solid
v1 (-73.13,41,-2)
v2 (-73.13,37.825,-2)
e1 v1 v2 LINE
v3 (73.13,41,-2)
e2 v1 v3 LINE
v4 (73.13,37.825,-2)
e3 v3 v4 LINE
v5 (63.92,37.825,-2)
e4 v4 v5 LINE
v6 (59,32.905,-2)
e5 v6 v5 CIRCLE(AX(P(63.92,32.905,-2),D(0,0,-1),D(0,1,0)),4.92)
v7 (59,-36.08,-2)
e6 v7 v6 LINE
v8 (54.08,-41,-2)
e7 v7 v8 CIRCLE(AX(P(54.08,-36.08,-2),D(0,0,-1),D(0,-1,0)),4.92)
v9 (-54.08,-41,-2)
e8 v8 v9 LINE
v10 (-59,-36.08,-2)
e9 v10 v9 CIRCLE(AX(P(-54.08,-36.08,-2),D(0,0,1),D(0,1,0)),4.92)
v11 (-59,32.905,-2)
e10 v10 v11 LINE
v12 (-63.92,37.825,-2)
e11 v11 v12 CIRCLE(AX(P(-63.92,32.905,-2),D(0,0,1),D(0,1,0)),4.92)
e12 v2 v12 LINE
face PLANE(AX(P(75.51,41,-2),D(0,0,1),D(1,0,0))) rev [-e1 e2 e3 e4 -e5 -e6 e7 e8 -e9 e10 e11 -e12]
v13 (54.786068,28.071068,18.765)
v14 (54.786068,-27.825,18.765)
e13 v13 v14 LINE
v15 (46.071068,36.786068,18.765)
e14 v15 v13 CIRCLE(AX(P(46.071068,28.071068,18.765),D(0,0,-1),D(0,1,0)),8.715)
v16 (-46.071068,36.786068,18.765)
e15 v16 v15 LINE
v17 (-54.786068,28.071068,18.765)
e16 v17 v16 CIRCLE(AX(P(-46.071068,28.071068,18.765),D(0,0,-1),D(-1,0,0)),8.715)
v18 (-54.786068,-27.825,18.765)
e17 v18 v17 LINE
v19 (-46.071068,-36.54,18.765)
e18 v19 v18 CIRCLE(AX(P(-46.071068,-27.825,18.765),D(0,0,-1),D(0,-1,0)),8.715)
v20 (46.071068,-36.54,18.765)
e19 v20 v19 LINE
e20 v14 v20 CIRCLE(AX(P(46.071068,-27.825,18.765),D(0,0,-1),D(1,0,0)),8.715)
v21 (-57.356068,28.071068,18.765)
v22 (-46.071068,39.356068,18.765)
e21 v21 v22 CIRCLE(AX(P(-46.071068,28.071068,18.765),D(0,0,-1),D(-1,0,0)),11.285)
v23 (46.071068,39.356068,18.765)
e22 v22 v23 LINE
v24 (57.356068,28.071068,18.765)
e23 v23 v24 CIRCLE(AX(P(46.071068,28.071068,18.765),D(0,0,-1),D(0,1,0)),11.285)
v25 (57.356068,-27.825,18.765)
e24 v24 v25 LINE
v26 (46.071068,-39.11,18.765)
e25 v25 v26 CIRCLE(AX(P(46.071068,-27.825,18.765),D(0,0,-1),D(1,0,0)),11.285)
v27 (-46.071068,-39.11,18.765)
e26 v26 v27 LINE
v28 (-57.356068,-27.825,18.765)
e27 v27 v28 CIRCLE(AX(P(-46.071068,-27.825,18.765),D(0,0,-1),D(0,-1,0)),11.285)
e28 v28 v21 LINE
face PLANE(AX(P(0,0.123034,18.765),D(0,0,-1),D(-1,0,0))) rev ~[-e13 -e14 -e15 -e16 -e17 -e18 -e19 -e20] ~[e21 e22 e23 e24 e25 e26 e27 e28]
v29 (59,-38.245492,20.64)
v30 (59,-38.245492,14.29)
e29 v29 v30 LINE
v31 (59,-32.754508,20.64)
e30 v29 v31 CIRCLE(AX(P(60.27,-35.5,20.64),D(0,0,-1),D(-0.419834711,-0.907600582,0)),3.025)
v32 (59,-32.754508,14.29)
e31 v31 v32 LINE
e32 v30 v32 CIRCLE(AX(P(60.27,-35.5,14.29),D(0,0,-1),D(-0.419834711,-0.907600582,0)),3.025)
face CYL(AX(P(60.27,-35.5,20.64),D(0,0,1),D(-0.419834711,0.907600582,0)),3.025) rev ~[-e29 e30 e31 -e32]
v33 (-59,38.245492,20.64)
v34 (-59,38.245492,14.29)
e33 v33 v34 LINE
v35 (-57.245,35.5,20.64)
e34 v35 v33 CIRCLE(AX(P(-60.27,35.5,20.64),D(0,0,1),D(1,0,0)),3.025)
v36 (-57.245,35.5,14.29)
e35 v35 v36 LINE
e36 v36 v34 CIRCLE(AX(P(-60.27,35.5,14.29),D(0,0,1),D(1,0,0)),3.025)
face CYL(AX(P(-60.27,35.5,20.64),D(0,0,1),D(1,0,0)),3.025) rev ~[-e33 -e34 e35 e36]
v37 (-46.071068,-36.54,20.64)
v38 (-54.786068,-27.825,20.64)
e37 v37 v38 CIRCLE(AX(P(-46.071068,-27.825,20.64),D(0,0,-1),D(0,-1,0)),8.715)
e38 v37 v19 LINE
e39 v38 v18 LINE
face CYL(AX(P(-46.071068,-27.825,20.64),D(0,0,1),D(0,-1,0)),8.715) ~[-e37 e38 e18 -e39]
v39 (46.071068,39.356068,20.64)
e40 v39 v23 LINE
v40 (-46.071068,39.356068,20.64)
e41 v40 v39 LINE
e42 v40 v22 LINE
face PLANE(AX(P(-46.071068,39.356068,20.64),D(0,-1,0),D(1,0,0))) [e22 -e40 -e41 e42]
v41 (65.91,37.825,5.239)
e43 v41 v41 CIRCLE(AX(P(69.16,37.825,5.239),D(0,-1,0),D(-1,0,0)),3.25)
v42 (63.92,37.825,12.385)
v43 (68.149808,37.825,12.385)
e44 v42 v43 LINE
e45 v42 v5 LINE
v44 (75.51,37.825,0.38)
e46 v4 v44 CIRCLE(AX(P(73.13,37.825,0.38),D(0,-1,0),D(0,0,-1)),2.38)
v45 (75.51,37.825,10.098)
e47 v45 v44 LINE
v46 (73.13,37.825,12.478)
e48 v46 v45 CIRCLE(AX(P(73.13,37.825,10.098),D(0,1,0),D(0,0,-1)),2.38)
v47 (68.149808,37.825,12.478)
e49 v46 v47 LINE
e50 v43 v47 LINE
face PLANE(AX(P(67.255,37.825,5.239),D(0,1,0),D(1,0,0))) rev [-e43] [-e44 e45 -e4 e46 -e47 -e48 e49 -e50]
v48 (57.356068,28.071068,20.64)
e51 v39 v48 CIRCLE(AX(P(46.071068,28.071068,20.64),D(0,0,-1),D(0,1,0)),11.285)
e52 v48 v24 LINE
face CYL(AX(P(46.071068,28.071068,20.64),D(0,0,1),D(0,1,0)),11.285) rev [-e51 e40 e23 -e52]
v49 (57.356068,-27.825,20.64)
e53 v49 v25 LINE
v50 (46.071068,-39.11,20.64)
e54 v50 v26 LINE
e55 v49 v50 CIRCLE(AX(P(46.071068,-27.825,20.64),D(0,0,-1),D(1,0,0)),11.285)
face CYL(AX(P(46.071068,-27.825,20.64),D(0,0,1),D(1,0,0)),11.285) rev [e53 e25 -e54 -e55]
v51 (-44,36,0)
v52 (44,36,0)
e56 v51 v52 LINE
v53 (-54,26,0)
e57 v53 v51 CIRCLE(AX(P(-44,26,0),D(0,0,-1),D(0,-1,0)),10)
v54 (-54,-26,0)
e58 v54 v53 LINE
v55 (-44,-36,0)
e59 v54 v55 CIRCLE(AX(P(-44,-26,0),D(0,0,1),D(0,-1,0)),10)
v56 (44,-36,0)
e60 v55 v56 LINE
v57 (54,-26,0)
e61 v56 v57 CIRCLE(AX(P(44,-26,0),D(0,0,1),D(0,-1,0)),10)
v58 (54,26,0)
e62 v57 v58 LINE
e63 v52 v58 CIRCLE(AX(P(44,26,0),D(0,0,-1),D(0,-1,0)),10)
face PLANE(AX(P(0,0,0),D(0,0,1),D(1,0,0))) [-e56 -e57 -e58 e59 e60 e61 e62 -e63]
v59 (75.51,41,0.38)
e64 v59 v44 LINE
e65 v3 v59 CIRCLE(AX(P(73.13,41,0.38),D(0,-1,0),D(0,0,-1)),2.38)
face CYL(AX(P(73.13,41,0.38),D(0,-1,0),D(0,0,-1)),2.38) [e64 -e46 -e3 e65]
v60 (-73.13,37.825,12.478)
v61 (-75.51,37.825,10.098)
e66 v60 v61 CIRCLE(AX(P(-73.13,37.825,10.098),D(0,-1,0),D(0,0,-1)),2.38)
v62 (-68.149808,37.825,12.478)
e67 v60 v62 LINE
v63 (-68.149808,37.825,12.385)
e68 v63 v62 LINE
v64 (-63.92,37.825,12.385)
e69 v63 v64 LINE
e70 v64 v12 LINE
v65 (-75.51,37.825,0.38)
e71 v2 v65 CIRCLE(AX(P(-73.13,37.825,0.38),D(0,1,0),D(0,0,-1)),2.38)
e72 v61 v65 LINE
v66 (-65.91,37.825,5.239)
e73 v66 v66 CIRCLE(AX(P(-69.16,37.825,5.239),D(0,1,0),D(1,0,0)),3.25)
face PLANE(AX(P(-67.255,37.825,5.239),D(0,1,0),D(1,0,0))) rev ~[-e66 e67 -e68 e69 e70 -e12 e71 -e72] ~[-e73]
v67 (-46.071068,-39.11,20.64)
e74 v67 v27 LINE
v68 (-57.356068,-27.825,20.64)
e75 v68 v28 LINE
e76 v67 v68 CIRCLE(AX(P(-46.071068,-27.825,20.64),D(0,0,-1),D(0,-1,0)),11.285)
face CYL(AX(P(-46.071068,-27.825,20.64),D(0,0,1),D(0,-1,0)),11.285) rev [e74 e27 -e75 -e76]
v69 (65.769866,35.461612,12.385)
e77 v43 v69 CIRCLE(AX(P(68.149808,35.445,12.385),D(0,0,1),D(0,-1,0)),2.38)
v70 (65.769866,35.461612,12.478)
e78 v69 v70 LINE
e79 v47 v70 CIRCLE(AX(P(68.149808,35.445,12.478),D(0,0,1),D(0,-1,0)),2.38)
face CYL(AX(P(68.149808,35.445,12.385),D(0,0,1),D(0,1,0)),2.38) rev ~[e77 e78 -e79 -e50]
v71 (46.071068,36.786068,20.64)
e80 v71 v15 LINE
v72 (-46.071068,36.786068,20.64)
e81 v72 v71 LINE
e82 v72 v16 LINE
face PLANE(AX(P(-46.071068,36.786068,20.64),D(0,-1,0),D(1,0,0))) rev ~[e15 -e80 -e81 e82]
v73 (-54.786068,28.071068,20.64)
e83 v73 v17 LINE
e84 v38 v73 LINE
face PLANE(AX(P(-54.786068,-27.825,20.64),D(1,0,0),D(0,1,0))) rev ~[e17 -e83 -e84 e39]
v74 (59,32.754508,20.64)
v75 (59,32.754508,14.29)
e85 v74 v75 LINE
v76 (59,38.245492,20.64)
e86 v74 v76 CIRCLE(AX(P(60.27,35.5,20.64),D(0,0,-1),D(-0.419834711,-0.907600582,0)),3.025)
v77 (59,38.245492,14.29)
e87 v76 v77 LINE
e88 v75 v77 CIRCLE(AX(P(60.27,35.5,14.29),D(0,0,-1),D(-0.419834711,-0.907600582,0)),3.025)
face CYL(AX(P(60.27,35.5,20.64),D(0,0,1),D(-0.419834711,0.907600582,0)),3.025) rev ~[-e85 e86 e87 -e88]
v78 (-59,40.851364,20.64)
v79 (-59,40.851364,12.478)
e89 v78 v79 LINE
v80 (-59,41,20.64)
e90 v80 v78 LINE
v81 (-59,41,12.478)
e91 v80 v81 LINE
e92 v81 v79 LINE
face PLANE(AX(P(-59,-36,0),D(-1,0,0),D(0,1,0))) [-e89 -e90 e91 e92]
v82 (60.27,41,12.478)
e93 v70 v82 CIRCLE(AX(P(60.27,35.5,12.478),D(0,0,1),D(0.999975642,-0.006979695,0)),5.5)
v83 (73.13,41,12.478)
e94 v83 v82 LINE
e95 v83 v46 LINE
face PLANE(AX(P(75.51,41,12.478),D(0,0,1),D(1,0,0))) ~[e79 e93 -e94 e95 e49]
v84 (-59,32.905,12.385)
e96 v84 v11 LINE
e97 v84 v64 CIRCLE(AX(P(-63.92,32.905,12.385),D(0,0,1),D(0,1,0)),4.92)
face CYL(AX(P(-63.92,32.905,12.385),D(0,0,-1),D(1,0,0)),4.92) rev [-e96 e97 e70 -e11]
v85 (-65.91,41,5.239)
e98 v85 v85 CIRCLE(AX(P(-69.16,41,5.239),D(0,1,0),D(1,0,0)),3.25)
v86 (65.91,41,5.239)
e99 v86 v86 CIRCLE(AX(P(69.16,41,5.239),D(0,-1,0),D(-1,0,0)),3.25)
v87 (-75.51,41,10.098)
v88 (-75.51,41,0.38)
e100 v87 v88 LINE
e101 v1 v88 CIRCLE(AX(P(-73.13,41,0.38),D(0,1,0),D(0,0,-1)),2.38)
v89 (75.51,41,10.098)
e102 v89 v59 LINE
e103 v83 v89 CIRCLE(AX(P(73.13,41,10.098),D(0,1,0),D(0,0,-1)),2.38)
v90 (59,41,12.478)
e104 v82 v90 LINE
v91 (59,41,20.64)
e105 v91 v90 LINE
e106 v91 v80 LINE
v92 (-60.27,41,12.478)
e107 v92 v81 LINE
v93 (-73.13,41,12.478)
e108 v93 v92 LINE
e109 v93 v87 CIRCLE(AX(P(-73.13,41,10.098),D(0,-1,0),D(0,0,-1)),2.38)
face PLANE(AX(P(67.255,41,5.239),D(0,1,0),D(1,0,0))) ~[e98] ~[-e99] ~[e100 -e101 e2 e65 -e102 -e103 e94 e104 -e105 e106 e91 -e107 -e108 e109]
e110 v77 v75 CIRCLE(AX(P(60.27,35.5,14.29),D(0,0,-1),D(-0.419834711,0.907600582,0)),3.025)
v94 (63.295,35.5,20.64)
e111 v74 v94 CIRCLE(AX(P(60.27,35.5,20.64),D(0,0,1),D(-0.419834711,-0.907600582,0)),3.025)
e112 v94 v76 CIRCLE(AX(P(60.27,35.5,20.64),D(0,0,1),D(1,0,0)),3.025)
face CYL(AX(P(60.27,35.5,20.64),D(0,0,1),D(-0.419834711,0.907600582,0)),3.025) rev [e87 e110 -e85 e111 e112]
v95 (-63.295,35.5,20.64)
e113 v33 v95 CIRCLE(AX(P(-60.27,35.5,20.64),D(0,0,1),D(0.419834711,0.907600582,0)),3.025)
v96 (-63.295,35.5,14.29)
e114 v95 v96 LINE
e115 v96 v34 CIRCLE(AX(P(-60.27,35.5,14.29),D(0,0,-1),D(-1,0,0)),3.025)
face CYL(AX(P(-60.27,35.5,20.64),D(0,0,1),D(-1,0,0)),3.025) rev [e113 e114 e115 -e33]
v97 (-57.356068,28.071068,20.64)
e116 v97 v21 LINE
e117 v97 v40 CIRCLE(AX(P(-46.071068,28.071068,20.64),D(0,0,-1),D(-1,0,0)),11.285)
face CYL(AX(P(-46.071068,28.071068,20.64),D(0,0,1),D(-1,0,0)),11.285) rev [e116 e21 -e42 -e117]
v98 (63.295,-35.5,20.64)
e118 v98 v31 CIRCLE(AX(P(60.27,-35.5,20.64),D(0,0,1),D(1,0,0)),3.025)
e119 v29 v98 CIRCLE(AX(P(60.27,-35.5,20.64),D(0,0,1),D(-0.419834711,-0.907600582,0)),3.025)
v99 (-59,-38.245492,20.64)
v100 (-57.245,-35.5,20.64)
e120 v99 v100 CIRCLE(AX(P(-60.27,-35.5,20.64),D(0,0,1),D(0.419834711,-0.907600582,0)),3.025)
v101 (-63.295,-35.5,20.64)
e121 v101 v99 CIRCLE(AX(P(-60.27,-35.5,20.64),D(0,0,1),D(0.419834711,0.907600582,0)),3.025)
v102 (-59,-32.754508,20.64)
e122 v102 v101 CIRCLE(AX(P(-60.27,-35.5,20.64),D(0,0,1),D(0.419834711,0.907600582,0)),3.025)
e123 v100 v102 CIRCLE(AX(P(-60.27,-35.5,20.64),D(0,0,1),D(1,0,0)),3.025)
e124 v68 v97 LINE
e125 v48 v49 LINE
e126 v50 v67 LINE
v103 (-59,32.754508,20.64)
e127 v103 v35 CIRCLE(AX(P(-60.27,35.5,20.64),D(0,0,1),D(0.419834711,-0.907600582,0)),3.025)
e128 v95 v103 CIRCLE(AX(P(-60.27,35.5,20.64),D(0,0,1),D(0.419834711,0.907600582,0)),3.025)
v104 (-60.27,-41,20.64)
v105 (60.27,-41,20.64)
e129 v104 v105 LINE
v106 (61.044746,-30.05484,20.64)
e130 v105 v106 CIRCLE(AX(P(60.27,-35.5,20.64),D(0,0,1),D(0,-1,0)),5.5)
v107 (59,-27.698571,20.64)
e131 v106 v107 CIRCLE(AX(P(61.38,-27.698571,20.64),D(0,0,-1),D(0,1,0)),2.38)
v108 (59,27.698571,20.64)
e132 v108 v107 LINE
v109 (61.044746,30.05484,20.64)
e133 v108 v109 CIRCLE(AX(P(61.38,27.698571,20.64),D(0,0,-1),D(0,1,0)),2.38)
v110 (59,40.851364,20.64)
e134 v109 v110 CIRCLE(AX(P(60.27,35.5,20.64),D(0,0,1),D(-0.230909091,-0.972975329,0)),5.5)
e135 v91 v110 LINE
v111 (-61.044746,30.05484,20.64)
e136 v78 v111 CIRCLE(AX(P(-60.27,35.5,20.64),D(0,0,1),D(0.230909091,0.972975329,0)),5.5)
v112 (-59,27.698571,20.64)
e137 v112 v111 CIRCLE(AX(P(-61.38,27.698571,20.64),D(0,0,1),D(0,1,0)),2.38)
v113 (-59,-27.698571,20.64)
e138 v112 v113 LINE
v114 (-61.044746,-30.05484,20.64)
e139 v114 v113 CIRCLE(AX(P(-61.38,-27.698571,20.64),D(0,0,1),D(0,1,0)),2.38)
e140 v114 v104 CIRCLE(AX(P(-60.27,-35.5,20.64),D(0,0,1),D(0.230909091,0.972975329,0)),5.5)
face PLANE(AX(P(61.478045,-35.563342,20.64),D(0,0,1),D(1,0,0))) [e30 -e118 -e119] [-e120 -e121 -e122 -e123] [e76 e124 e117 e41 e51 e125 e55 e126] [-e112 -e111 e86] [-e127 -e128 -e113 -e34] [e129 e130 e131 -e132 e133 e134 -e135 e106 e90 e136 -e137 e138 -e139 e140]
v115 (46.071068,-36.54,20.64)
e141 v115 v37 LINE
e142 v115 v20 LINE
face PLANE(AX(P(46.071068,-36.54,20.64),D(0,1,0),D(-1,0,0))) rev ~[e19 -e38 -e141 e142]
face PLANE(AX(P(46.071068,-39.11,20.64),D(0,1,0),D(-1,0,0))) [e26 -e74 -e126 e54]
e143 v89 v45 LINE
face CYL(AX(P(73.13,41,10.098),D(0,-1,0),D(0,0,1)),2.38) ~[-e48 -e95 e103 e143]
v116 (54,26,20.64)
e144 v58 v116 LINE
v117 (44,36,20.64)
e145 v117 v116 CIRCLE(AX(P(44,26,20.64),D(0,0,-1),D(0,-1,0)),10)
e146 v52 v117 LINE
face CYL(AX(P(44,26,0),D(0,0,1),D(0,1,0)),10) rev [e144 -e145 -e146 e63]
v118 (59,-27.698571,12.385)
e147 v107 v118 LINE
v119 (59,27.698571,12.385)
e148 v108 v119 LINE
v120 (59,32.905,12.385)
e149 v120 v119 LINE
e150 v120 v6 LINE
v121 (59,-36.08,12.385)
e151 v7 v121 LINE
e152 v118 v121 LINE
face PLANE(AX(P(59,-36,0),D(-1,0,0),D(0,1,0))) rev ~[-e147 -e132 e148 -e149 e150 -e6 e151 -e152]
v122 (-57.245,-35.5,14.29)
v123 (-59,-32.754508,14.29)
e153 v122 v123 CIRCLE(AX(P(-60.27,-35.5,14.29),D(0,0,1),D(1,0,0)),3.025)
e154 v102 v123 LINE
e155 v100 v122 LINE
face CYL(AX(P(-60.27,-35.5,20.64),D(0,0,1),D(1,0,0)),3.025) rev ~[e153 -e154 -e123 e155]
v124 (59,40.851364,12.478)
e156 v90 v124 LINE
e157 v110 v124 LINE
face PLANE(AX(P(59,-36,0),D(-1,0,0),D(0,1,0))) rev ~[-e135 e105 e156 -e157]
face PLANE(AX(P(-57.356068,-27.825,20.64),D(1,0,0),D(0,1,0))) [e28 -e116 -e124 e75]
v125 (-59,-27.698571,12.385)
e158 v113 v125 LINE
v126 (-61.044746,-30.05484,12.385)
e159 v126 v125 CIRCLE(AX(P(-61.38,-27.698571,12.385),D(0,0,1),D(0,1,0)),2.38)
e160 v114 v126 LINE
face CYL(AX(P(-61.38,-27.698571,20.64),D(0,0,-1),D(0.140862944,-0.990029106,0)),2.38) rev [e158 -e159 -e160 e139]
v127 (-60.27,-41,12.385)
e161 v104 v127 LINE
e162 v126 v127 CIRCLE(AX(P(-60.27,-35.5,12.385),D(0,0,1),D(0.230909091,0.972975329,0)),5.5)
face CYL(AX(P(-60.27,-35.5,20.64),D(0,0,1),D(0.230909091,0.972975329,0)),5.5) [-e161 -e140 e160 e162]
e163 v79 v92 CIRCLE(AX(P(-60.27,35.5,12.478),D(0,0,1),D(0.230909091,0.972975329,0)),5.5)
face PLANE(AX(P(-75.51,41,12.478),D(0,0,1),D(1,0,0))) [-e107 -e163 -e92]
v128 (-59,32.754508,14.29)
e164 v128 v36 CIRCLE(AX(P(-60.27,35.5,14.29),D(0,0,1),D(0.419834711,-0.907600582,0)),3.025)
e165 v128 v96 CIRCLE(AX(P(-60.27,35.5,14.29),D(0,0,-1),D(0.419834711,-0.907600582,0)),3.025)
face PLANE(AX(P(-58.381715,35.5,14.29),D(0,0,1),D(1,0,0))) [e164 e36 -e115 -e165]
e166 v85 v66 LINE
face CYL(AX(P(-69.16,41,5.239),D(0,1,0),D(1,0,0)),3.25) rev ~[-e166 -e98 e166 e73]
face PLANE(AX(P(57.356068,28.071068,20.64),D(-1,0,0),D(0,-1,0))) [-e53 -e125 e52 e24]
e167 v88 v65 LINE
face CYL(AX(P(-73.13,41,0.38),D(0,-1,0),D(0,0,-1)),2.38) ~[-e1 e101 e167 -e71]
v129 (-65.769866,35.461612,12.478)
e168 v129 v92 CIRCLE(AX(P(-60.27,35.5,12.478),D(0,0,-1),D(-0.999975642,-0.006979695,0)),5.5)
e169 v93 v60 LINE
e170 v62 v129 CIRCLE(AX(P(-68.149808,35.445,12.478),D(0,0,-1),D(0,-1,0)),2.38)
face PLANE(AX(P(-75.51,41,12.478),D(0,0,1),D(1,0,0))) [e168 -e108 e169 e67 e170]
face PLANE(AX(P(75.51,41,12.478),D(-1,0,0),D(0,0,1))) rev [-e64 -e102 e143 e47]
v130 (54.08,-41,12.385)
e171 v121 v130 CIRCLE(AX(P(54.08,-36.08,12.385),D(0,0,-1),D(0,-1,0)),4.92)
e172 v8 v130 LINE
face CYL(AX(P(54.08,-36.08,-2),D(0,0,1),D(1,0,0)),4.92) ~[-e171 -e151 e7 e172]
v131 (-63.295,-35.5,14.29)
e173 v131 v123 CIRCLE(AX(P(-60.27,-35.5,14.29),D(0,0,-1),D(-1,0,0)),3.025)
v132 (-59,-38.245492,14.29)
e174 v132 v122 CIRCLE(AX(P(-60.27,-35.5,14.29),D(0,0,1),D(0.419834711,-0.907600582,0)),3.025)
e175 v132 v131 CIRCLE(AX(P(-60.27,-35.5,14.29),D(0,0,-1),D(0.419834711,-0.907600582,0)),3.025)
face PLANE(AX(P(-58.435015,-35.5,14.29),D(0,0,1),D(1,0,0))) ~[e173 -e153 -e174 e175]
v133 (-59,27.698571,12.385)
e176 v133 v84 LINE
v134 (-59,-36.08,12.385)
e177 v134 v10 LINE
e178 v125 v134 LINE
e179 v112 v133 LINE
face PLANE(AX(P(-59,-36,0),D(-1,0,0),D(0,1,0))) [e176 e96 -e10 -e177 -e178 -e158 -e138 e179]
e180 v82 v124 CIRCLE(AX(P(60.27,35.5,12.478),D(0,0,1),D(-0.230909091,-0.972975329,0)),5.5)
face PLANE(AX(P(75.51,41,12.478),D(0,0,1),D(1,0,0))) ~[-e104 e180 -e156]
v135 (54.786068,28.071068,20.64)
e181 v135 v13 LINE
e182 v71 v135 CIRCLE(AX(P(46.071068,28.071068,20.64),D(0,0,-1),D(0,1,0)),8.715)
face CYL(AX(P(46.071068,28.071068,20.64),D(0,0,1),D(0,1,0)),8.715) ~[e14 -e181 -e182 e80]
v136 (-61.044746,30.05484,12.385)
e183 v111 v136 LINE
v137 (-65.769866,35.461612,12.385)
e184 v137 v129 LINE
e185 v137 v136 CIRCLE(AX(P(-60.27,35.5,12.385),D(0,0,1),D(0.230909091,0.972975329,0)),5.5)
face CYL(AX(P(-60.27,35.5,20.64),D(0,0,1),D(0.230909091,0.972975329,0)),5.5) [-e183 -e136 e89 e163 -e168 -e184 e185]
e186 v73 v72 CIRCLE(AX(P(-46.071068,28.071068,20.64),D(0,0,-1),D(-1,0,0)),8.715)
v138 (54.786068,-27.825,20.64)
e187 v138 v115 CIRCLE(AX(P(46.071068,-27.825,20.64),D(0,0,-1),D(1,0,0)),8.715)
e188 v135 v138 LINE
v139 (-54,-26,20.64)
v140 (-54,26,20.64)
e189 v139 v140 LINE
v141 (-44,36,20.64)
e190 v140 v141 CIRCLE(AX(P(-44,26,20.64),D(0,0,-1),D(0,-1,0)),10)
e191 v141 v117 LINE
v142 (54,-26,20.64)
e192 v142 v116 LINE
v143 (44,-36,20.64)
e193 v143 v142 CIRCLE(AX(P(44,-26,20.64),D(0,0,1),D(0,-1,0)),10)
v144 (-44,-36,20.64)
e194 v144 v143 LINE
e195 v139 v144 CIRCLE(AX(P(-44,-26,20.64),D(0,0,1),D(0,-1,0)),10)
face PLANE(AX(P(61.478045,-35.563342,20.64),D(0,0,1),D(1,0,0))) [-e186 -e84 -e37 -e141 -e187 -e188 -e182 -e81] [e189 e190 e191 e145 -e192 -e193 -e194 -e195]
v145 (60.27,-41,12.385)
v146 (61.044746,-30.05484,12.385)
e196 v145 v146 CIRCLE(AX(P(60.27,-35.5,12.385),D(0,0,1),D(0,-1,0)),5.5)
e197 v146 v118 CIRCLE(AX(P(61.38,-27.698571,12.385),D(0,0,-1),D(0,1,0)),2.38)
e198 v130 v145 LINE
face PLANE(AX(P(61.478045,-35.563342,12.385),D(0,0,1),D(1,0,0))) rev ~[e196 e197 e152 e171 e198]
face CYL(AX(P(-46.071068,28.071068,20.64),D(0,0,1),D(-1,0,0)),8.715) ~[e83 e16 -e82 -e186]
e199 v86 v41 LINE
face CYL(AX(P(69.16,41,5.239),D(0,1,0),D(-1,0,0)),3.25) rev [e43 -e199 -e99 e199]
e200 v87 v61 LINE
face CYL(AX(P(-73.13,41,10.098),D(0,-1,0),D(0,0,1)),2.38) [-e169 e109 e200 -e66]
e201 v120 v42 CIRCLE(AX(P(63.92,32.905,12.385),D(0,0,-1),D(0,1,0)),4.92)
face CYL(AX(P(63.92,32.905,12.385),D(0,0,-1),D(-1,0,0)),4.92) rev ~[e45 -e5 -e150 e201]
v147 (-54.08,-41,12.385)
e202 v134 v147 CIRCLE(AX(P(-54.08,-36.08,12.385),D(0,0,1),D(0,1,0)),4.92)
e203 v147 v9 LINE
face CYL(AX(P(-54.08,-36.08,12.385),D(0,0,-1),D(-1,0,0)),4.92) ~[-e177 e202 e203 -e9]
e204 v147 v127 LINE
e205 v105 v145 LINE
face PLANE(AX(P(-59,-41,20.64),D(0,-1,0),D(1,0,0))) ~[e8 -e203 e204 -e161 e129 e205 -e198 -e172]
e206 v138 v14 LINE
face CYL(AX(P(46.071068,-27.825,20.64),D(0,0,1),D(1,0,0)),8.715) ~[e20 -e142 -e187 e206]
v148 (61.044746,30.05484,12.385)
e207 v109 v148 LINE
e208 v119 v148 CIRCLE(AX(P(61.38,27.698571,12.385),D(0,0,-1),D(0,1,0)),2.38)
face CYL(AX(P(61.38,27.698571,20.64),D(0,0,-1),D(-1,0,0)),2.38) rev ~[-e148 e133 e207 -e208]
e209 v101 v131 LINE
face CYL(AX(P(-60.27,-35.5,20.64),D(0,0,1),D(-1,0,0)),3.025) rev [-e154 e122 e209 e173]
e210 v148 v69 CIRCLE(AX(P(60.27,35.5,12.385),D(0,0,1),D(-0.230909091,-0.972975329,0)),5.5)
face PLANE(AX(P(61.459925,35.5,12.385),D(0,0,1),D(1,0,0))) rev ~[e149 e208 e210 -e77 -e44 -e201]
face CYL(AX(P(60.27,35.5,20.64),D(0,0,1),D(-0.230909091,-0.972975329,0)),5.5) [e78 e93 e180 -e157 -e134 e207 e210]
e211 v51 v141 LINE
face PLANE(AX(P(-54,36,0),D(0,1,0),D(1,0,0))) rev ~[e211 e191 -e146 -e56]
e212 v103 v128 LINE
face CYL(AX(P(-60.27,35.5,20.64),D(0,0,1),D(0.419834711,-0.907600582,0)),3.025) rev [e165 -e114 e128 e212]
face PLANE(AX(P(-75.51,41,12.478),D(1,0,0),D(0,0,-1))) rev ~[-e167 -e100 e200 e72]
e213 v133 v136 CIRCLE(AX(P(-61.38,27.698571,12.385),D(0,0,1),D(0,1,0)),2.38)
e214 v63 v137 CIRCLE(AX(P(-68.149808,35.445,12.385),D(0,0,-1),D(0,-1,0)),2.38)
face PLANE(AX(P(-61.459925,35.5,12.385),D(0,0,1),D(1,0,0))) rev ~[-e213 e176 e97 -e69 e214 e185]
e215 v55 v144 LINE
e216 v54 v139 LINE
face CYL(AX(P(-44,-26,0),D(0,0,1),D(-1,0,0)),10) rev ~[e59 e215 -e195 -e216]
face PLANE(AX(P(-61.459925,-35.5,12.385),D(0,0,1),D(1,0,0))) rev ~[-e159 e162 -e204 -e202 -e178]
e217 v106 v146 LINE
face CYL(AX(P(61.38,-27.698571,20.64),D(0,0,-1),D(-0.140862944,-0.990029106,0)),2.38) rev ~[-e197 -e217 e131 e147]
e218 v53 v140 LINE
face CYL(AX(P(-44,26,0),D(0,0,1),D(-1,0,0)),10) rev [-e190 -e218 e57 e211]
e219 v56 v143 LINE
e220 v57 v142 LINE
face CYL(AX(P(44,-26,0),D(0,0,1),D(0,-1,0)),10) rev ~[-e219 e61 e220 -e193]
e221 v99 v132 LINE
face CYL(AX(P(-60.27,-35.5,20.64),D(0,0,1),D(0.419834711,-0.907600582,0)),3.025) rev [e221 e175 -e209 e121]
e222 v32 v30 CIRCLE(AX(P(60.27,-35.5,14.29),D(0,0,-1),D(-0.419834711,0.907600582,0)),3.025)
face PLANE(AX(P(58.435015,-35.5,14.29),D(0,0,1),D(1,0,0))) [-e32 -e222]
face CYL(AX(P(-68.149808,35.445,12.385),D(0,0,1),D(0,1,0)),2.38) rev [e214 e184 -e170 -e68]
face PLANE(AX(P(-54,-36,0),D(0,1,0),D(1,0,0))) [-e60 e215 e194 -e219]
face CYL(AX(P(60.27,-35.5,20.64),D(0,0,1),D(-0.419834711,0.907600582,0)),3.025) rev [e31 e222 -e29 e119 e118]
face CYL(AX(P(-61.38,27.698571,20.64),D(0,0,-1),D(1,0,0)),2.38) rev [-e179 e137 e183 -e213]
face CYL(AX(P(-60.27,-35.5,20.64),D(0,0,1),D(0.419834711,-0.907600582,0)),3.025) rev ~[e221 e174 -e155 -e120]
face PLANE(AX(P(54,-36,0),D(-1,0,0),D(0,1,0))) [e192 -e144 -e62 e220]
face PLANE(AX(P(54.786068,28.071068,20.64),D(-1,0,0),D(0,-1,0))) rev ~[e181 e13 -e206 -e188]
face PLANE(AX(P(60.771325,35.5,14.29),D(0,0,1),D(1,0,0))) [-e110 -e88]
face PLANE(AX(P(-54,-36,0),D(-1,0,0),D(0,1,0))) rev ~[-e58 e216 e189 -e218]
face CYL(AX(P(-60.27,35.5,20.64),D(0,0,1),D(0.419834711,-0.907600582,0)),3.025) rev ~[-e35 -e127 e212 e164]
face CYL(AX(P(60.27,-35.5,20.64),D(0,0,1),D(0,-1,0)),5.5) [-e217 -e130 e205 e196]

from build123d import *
from build123d.topology import SkipClean

# Parameters (mm, degrees)
SKETCH2_W           = 108
SKETCH2_H           = 72
BOSS_EXTRUDE1_DEPTH = 20.64
SHELL1_T            = 5
SKETCH3_W           = 118
SKETCH3_H           = 82
CUT_EXTRUDE1_DEPTH  = 3
FILLET1_R           = 10
SKETCH13_W          = 16.51
SKETCH13_H          = 14.478
SKETCH13_R          = 3.249999977
BOSS_EXTRUDE4_DEPTH = 3.175
BOSS_EXTRUDE2_DEPTH = 8.255
CUT_EXTRUDE4_DEPTH  = 6.35
CUT_EXTRUDE2_DEPTH  = 1.875
FILLET3_R           = 2.38
FILLET4_R           = 4.92
FILLET5_R           = 2.38


with BuildPart() as part:
    # Sketch2 → Boss-Extrude1 (new body)
    with BuildSketch(Plane.XY):
        Rectangle(SKETCH2_W, SKETCH2_H)
    extrude(amount=BOSS_EXTRUDE1_DEPTH)

    # Shell1
    shell1_openings = [part.faces().sort_by_distance(p)[0] for p in [
        (0, 0, 20.64),
    ]]
    offset(amount=SHELL1_T, openings=shell1_openings, kind=Kind.INTERSECTION)

    # Sketch3 → Cut-Extrude1 (cut)
    with BuildSketch(Plane(origin=(0, 0, -5), x_dir=(-1, 0, 0), z_dir=(0, 0, -1))):
        Rectangle(SKETCH3_W, SKETCH3_H)
    extrude(amount=-CUT_EXTRUDE1_DEPTH, mode=Mode.SUBTRACT)

    # Fillet1
    fillet1_edges = [part.edges().sort_by_distance(p)[0] for p in [
        (54, -36, 10.32),
        (54, 36, 10.32),
        (-54, 36, 10.32),
        (-54, -36, 10.32),
    ]]
    fillet(fillet1_edges, radius=FILLET1_R)

    # Sketch13 → Boss-Extrude4 (add)
    with BuildSketch(Plane(origin=(0, 41, 0), x_dir=(1, 0, 0), z_dir=(0, 1, 0))):
        with Locations((-67.255, -5.239)):
            Rectangle(SKETCH13_W, SKETCH13_H)
        with Locations((-69.16, -5.239)):
            Circle(SKETCH13_R, mode=Mode.SUBTRACT)
    boss_extrude4 = extrude(amount=-BOSS_EXTRUDE4_DEPTH)

    # Mirror4: Boss-Extrude4 across plane
    add(boss_extrude4.mirror(Plane(origin=(0, 0, 0), x_dir=(0, 0, 1), z_dir=(1, 0, 0))))

    # Sketch6 → Boss-Extrude2 (add)
    with BuildSketch(Plane.XY.offset(20.64)):
        with BuildLine():
            Line((59, -41), (60.27, -41))
            ThreePointArc((60.27, -41), (65.732714697, -34.86066586), (59, -30.148635688))
            Line((59, -30.148635688), (59, -41))
        make_face()
        with BuildLine():
            ThreePointArc((59, 30.148635688), (65.77, 35.5), (59, 40.851364312))
            Line((59, 40.851364312), (59, 30.148635688))
        make_face()
        with BuildLine():
            ThreePointArc((-59, -30.148635688), (-65.77, -35.5), (-59, -40.851364312))
            Line((-59, -40.851364312), (-59, -30.148635688))
        make_face()
        with BuildLine():
            ThreePointArc((-59, 40.851364312), (-65.77, 35.5), (-59, 30.148635688))
            Line((-59, 30.148635688), (-59, 40.851364312))
        make_face()
    boss_extrude2 = extrude(amount=-BOSS_EXTRUDE2_DEPTH)

    # Sketch6<4> → Cut-Extrude4 (cut)
    with BuildSketch(Plane.XY.offset(20.64)):
        with BuildLine():
            Line((59, 38.245491759), (59, 32.754508241))
            ThreePointArc((59, 32.754508241), (61.899244457, 32.951238046), (63.295, 35.5))
            ThreePointArc((63.295, 35.5), (61.899244457, 38.048761954), (59, 38.245491759))
        make_face()
        with BuildLine():
            ThreePointArc((59, 38.245491759), (57.245, 35.5), (59, 32.754508241))
            Line((59, 32.754508241), (59, 38.245491759))
        make_face()
        with BuildLine():
            Line((59, -38.245491759), (59, -32.754508241))
            ThreePointArc((59, -32.754508241), (57.245, -35.5), (59, -38.245491759))
        make_face()
        with BuildLine():
            ThreePointArc((63.295, -35.5), (61.899244457, -32.951238046), (59, -32.754508241))
            Line((59, -32.754508241), (59, -38.245491759))
            ThreePointArc((59, -38.245491759), (61.899244457, -38.048761954), (63.295, -35.5))
        make_face()
        with BuildLine():
            ThreePointArc((-59, -38.245491759), (-57.721238046, -37.129244457), (-57.245, -35.5))
            ThreePointArc((-57.245, -35.5), (-57.721238046, -33.870755543), (-59, -32.754508241))
            Line((-59, -32.754508241), (-59, -38.245491759))
        make_face()
        with BuildLine():
            Line((-59, -38.245491759), (-59, -32.754508241))
            ThreePointArc((-59, -32.754508241), (-63.295, -35.5), (-59, -38.245491759))
        make_face()
        with BuildLine():
            Line((-59, 38.245491759), (-59, 32.754508241))
            ThreePointArc((-59, 32.754508241), (-57.721238046, 33.870755543), (-57.245, 35.5))
            ThreePointArc((-57.245, 35.5), (-57.721238046, 37.129244457), (-59, 38.245491759))
        make_face()
        with BuildLine():
            ThreePointArc((-59, 38.245491759), (-63.295, 35.5), (-59, 32.754508241))
            Line((-59, 32.754508241), (-59, 38.245491759))
        make_face()
    cut_extrude4 = extrude(amount=-CUT_EXTRUDE4_DEPTH, mode=Mode.SUBTRACT)

    # Mirror5: Boss-Extrude2, Cut-Extrude4 across plane
    with SkipClean():  # the faces are left unmerged after this step: merging them gives an invalid solid
        add(boss_extrude2.mirror(Plane(origin=(0, 0, 0), x_dir=(0, 0, 1), z_dir=(1, 0, 0))))
        add(cut_extrude4.mirror(Plane(origin=(0, 0, 0), x_dir=(0, 0, 1), z_dir=(1, 0, 0))), mode=Mode.SUBTRACT)

    # Sketch5 → Cut-Extrude2 (cut)
    with SkipClean():  # the faces are left unmerged after this step: merging them gives an invalid solid
        with BuildSketch(Plane.XY.offset(20.64)):
            with BuildLine():
                Line((46.071067812, -39.11), (-46.071067812, -39.11))
                ThreePointArc((-46.071067812, -39.11), (-54.050767838, -35.804700026), (-57.356067812, -27.825))
                Line((-57.356067812, -27.825), (-57.356067812, 28.071067812))
                ThreePointArc((-57.356067812, 28.071067812), (-54.050767838, 36.050767838), (-46.071067812, 39.356067812))
                Line((-46.071067812, 39.356067812), (46.071067812, 39.356067812))
                ThreePointArc((46.071067812, 39.356067812), (54.050767838, 36.050767838), (57.356067812, 28.071067812))
                Line((57.356067812, 28.071067812), (57.356067812, -27.825))
                ThreePointArc((57.356067812, -27.825), (54.050767838, -35.804700026), (46.071067812, -39.11))
            make_face()
            with BuildLine():
                Line((46.071067812, -36.54), (-46.071067812, -36.54))
                ThreePointArc((-46.071067812, -36.54), (-52.23350341, -33.987435598), (-54.786067812, -27.825))
                Line((-54.786067812, -27.825), (-54.786067812, 28.071067812))
                ThreePointArc((-54.786067812, 28.071067812), (-52.23350341, 34.23350341), (-46.071067812, 36.786067812))
                Line((-46.071067812, 36.786067812), (46.071067812, 36.786067812))
                ThreePointArc((46.071067812, 36.786067812), (52.23350341, 34.23350341), (54.786067812, 28.071067812))
                Line((54.786067812, 28.071067812), (54.786067812, -27.825))
                ThreePointArc((54.786067812, -27.825), (52.23350341, -33.987435598), (46.071067812, -36.54))
            make_face(mode=Mode.SUBTRACT)
        extrude(amount=-CUT_EXTRUDE2_DEPTH, mode=Mode.SUBTRACT)

    # Fillet3
    fillet3_edges = [part.edges().sort_by_distance(p)[0] for p in [
        (59, -30.148635688, 16.5125),
        (-65.254413205, 37.825, 12.4315),
        (-59, 30.148635688, 16.5125),
        (-59, -30.148635688, 16.5125),
        (65.254413205, 37.825, 12.4315),
        (59, 30.148635688, 16.5125),
    ]]
    fillet(fillet3_edges, radius=FILLET3_R)

    # Fillet4
    fillet4_edges = [part.edges().sort_by_distance(p)[0] for p in [
        (59, -41, 5.1925),
        (-59, -41, 5.1925),
        (-59, 37.825, 5.1925),
        (59, 37.825, 5.1925),
    ]]
    fillet(fillet4_edges, radius=FILLET4_R)

    # Fillet5
    fillet5_edges = [part.edges().sort_by_distance(p)[0] for p in [
        (-75.51, 39.4125, 12.478),
        (-75.51, 39.4125, -2),
        (75.51, 39.4125, -2),
        (75.51, 39.4125, 12.478),
    ]]
    fillet(fillet5_edges, radius=FILLET5_R)


solid = part.part
